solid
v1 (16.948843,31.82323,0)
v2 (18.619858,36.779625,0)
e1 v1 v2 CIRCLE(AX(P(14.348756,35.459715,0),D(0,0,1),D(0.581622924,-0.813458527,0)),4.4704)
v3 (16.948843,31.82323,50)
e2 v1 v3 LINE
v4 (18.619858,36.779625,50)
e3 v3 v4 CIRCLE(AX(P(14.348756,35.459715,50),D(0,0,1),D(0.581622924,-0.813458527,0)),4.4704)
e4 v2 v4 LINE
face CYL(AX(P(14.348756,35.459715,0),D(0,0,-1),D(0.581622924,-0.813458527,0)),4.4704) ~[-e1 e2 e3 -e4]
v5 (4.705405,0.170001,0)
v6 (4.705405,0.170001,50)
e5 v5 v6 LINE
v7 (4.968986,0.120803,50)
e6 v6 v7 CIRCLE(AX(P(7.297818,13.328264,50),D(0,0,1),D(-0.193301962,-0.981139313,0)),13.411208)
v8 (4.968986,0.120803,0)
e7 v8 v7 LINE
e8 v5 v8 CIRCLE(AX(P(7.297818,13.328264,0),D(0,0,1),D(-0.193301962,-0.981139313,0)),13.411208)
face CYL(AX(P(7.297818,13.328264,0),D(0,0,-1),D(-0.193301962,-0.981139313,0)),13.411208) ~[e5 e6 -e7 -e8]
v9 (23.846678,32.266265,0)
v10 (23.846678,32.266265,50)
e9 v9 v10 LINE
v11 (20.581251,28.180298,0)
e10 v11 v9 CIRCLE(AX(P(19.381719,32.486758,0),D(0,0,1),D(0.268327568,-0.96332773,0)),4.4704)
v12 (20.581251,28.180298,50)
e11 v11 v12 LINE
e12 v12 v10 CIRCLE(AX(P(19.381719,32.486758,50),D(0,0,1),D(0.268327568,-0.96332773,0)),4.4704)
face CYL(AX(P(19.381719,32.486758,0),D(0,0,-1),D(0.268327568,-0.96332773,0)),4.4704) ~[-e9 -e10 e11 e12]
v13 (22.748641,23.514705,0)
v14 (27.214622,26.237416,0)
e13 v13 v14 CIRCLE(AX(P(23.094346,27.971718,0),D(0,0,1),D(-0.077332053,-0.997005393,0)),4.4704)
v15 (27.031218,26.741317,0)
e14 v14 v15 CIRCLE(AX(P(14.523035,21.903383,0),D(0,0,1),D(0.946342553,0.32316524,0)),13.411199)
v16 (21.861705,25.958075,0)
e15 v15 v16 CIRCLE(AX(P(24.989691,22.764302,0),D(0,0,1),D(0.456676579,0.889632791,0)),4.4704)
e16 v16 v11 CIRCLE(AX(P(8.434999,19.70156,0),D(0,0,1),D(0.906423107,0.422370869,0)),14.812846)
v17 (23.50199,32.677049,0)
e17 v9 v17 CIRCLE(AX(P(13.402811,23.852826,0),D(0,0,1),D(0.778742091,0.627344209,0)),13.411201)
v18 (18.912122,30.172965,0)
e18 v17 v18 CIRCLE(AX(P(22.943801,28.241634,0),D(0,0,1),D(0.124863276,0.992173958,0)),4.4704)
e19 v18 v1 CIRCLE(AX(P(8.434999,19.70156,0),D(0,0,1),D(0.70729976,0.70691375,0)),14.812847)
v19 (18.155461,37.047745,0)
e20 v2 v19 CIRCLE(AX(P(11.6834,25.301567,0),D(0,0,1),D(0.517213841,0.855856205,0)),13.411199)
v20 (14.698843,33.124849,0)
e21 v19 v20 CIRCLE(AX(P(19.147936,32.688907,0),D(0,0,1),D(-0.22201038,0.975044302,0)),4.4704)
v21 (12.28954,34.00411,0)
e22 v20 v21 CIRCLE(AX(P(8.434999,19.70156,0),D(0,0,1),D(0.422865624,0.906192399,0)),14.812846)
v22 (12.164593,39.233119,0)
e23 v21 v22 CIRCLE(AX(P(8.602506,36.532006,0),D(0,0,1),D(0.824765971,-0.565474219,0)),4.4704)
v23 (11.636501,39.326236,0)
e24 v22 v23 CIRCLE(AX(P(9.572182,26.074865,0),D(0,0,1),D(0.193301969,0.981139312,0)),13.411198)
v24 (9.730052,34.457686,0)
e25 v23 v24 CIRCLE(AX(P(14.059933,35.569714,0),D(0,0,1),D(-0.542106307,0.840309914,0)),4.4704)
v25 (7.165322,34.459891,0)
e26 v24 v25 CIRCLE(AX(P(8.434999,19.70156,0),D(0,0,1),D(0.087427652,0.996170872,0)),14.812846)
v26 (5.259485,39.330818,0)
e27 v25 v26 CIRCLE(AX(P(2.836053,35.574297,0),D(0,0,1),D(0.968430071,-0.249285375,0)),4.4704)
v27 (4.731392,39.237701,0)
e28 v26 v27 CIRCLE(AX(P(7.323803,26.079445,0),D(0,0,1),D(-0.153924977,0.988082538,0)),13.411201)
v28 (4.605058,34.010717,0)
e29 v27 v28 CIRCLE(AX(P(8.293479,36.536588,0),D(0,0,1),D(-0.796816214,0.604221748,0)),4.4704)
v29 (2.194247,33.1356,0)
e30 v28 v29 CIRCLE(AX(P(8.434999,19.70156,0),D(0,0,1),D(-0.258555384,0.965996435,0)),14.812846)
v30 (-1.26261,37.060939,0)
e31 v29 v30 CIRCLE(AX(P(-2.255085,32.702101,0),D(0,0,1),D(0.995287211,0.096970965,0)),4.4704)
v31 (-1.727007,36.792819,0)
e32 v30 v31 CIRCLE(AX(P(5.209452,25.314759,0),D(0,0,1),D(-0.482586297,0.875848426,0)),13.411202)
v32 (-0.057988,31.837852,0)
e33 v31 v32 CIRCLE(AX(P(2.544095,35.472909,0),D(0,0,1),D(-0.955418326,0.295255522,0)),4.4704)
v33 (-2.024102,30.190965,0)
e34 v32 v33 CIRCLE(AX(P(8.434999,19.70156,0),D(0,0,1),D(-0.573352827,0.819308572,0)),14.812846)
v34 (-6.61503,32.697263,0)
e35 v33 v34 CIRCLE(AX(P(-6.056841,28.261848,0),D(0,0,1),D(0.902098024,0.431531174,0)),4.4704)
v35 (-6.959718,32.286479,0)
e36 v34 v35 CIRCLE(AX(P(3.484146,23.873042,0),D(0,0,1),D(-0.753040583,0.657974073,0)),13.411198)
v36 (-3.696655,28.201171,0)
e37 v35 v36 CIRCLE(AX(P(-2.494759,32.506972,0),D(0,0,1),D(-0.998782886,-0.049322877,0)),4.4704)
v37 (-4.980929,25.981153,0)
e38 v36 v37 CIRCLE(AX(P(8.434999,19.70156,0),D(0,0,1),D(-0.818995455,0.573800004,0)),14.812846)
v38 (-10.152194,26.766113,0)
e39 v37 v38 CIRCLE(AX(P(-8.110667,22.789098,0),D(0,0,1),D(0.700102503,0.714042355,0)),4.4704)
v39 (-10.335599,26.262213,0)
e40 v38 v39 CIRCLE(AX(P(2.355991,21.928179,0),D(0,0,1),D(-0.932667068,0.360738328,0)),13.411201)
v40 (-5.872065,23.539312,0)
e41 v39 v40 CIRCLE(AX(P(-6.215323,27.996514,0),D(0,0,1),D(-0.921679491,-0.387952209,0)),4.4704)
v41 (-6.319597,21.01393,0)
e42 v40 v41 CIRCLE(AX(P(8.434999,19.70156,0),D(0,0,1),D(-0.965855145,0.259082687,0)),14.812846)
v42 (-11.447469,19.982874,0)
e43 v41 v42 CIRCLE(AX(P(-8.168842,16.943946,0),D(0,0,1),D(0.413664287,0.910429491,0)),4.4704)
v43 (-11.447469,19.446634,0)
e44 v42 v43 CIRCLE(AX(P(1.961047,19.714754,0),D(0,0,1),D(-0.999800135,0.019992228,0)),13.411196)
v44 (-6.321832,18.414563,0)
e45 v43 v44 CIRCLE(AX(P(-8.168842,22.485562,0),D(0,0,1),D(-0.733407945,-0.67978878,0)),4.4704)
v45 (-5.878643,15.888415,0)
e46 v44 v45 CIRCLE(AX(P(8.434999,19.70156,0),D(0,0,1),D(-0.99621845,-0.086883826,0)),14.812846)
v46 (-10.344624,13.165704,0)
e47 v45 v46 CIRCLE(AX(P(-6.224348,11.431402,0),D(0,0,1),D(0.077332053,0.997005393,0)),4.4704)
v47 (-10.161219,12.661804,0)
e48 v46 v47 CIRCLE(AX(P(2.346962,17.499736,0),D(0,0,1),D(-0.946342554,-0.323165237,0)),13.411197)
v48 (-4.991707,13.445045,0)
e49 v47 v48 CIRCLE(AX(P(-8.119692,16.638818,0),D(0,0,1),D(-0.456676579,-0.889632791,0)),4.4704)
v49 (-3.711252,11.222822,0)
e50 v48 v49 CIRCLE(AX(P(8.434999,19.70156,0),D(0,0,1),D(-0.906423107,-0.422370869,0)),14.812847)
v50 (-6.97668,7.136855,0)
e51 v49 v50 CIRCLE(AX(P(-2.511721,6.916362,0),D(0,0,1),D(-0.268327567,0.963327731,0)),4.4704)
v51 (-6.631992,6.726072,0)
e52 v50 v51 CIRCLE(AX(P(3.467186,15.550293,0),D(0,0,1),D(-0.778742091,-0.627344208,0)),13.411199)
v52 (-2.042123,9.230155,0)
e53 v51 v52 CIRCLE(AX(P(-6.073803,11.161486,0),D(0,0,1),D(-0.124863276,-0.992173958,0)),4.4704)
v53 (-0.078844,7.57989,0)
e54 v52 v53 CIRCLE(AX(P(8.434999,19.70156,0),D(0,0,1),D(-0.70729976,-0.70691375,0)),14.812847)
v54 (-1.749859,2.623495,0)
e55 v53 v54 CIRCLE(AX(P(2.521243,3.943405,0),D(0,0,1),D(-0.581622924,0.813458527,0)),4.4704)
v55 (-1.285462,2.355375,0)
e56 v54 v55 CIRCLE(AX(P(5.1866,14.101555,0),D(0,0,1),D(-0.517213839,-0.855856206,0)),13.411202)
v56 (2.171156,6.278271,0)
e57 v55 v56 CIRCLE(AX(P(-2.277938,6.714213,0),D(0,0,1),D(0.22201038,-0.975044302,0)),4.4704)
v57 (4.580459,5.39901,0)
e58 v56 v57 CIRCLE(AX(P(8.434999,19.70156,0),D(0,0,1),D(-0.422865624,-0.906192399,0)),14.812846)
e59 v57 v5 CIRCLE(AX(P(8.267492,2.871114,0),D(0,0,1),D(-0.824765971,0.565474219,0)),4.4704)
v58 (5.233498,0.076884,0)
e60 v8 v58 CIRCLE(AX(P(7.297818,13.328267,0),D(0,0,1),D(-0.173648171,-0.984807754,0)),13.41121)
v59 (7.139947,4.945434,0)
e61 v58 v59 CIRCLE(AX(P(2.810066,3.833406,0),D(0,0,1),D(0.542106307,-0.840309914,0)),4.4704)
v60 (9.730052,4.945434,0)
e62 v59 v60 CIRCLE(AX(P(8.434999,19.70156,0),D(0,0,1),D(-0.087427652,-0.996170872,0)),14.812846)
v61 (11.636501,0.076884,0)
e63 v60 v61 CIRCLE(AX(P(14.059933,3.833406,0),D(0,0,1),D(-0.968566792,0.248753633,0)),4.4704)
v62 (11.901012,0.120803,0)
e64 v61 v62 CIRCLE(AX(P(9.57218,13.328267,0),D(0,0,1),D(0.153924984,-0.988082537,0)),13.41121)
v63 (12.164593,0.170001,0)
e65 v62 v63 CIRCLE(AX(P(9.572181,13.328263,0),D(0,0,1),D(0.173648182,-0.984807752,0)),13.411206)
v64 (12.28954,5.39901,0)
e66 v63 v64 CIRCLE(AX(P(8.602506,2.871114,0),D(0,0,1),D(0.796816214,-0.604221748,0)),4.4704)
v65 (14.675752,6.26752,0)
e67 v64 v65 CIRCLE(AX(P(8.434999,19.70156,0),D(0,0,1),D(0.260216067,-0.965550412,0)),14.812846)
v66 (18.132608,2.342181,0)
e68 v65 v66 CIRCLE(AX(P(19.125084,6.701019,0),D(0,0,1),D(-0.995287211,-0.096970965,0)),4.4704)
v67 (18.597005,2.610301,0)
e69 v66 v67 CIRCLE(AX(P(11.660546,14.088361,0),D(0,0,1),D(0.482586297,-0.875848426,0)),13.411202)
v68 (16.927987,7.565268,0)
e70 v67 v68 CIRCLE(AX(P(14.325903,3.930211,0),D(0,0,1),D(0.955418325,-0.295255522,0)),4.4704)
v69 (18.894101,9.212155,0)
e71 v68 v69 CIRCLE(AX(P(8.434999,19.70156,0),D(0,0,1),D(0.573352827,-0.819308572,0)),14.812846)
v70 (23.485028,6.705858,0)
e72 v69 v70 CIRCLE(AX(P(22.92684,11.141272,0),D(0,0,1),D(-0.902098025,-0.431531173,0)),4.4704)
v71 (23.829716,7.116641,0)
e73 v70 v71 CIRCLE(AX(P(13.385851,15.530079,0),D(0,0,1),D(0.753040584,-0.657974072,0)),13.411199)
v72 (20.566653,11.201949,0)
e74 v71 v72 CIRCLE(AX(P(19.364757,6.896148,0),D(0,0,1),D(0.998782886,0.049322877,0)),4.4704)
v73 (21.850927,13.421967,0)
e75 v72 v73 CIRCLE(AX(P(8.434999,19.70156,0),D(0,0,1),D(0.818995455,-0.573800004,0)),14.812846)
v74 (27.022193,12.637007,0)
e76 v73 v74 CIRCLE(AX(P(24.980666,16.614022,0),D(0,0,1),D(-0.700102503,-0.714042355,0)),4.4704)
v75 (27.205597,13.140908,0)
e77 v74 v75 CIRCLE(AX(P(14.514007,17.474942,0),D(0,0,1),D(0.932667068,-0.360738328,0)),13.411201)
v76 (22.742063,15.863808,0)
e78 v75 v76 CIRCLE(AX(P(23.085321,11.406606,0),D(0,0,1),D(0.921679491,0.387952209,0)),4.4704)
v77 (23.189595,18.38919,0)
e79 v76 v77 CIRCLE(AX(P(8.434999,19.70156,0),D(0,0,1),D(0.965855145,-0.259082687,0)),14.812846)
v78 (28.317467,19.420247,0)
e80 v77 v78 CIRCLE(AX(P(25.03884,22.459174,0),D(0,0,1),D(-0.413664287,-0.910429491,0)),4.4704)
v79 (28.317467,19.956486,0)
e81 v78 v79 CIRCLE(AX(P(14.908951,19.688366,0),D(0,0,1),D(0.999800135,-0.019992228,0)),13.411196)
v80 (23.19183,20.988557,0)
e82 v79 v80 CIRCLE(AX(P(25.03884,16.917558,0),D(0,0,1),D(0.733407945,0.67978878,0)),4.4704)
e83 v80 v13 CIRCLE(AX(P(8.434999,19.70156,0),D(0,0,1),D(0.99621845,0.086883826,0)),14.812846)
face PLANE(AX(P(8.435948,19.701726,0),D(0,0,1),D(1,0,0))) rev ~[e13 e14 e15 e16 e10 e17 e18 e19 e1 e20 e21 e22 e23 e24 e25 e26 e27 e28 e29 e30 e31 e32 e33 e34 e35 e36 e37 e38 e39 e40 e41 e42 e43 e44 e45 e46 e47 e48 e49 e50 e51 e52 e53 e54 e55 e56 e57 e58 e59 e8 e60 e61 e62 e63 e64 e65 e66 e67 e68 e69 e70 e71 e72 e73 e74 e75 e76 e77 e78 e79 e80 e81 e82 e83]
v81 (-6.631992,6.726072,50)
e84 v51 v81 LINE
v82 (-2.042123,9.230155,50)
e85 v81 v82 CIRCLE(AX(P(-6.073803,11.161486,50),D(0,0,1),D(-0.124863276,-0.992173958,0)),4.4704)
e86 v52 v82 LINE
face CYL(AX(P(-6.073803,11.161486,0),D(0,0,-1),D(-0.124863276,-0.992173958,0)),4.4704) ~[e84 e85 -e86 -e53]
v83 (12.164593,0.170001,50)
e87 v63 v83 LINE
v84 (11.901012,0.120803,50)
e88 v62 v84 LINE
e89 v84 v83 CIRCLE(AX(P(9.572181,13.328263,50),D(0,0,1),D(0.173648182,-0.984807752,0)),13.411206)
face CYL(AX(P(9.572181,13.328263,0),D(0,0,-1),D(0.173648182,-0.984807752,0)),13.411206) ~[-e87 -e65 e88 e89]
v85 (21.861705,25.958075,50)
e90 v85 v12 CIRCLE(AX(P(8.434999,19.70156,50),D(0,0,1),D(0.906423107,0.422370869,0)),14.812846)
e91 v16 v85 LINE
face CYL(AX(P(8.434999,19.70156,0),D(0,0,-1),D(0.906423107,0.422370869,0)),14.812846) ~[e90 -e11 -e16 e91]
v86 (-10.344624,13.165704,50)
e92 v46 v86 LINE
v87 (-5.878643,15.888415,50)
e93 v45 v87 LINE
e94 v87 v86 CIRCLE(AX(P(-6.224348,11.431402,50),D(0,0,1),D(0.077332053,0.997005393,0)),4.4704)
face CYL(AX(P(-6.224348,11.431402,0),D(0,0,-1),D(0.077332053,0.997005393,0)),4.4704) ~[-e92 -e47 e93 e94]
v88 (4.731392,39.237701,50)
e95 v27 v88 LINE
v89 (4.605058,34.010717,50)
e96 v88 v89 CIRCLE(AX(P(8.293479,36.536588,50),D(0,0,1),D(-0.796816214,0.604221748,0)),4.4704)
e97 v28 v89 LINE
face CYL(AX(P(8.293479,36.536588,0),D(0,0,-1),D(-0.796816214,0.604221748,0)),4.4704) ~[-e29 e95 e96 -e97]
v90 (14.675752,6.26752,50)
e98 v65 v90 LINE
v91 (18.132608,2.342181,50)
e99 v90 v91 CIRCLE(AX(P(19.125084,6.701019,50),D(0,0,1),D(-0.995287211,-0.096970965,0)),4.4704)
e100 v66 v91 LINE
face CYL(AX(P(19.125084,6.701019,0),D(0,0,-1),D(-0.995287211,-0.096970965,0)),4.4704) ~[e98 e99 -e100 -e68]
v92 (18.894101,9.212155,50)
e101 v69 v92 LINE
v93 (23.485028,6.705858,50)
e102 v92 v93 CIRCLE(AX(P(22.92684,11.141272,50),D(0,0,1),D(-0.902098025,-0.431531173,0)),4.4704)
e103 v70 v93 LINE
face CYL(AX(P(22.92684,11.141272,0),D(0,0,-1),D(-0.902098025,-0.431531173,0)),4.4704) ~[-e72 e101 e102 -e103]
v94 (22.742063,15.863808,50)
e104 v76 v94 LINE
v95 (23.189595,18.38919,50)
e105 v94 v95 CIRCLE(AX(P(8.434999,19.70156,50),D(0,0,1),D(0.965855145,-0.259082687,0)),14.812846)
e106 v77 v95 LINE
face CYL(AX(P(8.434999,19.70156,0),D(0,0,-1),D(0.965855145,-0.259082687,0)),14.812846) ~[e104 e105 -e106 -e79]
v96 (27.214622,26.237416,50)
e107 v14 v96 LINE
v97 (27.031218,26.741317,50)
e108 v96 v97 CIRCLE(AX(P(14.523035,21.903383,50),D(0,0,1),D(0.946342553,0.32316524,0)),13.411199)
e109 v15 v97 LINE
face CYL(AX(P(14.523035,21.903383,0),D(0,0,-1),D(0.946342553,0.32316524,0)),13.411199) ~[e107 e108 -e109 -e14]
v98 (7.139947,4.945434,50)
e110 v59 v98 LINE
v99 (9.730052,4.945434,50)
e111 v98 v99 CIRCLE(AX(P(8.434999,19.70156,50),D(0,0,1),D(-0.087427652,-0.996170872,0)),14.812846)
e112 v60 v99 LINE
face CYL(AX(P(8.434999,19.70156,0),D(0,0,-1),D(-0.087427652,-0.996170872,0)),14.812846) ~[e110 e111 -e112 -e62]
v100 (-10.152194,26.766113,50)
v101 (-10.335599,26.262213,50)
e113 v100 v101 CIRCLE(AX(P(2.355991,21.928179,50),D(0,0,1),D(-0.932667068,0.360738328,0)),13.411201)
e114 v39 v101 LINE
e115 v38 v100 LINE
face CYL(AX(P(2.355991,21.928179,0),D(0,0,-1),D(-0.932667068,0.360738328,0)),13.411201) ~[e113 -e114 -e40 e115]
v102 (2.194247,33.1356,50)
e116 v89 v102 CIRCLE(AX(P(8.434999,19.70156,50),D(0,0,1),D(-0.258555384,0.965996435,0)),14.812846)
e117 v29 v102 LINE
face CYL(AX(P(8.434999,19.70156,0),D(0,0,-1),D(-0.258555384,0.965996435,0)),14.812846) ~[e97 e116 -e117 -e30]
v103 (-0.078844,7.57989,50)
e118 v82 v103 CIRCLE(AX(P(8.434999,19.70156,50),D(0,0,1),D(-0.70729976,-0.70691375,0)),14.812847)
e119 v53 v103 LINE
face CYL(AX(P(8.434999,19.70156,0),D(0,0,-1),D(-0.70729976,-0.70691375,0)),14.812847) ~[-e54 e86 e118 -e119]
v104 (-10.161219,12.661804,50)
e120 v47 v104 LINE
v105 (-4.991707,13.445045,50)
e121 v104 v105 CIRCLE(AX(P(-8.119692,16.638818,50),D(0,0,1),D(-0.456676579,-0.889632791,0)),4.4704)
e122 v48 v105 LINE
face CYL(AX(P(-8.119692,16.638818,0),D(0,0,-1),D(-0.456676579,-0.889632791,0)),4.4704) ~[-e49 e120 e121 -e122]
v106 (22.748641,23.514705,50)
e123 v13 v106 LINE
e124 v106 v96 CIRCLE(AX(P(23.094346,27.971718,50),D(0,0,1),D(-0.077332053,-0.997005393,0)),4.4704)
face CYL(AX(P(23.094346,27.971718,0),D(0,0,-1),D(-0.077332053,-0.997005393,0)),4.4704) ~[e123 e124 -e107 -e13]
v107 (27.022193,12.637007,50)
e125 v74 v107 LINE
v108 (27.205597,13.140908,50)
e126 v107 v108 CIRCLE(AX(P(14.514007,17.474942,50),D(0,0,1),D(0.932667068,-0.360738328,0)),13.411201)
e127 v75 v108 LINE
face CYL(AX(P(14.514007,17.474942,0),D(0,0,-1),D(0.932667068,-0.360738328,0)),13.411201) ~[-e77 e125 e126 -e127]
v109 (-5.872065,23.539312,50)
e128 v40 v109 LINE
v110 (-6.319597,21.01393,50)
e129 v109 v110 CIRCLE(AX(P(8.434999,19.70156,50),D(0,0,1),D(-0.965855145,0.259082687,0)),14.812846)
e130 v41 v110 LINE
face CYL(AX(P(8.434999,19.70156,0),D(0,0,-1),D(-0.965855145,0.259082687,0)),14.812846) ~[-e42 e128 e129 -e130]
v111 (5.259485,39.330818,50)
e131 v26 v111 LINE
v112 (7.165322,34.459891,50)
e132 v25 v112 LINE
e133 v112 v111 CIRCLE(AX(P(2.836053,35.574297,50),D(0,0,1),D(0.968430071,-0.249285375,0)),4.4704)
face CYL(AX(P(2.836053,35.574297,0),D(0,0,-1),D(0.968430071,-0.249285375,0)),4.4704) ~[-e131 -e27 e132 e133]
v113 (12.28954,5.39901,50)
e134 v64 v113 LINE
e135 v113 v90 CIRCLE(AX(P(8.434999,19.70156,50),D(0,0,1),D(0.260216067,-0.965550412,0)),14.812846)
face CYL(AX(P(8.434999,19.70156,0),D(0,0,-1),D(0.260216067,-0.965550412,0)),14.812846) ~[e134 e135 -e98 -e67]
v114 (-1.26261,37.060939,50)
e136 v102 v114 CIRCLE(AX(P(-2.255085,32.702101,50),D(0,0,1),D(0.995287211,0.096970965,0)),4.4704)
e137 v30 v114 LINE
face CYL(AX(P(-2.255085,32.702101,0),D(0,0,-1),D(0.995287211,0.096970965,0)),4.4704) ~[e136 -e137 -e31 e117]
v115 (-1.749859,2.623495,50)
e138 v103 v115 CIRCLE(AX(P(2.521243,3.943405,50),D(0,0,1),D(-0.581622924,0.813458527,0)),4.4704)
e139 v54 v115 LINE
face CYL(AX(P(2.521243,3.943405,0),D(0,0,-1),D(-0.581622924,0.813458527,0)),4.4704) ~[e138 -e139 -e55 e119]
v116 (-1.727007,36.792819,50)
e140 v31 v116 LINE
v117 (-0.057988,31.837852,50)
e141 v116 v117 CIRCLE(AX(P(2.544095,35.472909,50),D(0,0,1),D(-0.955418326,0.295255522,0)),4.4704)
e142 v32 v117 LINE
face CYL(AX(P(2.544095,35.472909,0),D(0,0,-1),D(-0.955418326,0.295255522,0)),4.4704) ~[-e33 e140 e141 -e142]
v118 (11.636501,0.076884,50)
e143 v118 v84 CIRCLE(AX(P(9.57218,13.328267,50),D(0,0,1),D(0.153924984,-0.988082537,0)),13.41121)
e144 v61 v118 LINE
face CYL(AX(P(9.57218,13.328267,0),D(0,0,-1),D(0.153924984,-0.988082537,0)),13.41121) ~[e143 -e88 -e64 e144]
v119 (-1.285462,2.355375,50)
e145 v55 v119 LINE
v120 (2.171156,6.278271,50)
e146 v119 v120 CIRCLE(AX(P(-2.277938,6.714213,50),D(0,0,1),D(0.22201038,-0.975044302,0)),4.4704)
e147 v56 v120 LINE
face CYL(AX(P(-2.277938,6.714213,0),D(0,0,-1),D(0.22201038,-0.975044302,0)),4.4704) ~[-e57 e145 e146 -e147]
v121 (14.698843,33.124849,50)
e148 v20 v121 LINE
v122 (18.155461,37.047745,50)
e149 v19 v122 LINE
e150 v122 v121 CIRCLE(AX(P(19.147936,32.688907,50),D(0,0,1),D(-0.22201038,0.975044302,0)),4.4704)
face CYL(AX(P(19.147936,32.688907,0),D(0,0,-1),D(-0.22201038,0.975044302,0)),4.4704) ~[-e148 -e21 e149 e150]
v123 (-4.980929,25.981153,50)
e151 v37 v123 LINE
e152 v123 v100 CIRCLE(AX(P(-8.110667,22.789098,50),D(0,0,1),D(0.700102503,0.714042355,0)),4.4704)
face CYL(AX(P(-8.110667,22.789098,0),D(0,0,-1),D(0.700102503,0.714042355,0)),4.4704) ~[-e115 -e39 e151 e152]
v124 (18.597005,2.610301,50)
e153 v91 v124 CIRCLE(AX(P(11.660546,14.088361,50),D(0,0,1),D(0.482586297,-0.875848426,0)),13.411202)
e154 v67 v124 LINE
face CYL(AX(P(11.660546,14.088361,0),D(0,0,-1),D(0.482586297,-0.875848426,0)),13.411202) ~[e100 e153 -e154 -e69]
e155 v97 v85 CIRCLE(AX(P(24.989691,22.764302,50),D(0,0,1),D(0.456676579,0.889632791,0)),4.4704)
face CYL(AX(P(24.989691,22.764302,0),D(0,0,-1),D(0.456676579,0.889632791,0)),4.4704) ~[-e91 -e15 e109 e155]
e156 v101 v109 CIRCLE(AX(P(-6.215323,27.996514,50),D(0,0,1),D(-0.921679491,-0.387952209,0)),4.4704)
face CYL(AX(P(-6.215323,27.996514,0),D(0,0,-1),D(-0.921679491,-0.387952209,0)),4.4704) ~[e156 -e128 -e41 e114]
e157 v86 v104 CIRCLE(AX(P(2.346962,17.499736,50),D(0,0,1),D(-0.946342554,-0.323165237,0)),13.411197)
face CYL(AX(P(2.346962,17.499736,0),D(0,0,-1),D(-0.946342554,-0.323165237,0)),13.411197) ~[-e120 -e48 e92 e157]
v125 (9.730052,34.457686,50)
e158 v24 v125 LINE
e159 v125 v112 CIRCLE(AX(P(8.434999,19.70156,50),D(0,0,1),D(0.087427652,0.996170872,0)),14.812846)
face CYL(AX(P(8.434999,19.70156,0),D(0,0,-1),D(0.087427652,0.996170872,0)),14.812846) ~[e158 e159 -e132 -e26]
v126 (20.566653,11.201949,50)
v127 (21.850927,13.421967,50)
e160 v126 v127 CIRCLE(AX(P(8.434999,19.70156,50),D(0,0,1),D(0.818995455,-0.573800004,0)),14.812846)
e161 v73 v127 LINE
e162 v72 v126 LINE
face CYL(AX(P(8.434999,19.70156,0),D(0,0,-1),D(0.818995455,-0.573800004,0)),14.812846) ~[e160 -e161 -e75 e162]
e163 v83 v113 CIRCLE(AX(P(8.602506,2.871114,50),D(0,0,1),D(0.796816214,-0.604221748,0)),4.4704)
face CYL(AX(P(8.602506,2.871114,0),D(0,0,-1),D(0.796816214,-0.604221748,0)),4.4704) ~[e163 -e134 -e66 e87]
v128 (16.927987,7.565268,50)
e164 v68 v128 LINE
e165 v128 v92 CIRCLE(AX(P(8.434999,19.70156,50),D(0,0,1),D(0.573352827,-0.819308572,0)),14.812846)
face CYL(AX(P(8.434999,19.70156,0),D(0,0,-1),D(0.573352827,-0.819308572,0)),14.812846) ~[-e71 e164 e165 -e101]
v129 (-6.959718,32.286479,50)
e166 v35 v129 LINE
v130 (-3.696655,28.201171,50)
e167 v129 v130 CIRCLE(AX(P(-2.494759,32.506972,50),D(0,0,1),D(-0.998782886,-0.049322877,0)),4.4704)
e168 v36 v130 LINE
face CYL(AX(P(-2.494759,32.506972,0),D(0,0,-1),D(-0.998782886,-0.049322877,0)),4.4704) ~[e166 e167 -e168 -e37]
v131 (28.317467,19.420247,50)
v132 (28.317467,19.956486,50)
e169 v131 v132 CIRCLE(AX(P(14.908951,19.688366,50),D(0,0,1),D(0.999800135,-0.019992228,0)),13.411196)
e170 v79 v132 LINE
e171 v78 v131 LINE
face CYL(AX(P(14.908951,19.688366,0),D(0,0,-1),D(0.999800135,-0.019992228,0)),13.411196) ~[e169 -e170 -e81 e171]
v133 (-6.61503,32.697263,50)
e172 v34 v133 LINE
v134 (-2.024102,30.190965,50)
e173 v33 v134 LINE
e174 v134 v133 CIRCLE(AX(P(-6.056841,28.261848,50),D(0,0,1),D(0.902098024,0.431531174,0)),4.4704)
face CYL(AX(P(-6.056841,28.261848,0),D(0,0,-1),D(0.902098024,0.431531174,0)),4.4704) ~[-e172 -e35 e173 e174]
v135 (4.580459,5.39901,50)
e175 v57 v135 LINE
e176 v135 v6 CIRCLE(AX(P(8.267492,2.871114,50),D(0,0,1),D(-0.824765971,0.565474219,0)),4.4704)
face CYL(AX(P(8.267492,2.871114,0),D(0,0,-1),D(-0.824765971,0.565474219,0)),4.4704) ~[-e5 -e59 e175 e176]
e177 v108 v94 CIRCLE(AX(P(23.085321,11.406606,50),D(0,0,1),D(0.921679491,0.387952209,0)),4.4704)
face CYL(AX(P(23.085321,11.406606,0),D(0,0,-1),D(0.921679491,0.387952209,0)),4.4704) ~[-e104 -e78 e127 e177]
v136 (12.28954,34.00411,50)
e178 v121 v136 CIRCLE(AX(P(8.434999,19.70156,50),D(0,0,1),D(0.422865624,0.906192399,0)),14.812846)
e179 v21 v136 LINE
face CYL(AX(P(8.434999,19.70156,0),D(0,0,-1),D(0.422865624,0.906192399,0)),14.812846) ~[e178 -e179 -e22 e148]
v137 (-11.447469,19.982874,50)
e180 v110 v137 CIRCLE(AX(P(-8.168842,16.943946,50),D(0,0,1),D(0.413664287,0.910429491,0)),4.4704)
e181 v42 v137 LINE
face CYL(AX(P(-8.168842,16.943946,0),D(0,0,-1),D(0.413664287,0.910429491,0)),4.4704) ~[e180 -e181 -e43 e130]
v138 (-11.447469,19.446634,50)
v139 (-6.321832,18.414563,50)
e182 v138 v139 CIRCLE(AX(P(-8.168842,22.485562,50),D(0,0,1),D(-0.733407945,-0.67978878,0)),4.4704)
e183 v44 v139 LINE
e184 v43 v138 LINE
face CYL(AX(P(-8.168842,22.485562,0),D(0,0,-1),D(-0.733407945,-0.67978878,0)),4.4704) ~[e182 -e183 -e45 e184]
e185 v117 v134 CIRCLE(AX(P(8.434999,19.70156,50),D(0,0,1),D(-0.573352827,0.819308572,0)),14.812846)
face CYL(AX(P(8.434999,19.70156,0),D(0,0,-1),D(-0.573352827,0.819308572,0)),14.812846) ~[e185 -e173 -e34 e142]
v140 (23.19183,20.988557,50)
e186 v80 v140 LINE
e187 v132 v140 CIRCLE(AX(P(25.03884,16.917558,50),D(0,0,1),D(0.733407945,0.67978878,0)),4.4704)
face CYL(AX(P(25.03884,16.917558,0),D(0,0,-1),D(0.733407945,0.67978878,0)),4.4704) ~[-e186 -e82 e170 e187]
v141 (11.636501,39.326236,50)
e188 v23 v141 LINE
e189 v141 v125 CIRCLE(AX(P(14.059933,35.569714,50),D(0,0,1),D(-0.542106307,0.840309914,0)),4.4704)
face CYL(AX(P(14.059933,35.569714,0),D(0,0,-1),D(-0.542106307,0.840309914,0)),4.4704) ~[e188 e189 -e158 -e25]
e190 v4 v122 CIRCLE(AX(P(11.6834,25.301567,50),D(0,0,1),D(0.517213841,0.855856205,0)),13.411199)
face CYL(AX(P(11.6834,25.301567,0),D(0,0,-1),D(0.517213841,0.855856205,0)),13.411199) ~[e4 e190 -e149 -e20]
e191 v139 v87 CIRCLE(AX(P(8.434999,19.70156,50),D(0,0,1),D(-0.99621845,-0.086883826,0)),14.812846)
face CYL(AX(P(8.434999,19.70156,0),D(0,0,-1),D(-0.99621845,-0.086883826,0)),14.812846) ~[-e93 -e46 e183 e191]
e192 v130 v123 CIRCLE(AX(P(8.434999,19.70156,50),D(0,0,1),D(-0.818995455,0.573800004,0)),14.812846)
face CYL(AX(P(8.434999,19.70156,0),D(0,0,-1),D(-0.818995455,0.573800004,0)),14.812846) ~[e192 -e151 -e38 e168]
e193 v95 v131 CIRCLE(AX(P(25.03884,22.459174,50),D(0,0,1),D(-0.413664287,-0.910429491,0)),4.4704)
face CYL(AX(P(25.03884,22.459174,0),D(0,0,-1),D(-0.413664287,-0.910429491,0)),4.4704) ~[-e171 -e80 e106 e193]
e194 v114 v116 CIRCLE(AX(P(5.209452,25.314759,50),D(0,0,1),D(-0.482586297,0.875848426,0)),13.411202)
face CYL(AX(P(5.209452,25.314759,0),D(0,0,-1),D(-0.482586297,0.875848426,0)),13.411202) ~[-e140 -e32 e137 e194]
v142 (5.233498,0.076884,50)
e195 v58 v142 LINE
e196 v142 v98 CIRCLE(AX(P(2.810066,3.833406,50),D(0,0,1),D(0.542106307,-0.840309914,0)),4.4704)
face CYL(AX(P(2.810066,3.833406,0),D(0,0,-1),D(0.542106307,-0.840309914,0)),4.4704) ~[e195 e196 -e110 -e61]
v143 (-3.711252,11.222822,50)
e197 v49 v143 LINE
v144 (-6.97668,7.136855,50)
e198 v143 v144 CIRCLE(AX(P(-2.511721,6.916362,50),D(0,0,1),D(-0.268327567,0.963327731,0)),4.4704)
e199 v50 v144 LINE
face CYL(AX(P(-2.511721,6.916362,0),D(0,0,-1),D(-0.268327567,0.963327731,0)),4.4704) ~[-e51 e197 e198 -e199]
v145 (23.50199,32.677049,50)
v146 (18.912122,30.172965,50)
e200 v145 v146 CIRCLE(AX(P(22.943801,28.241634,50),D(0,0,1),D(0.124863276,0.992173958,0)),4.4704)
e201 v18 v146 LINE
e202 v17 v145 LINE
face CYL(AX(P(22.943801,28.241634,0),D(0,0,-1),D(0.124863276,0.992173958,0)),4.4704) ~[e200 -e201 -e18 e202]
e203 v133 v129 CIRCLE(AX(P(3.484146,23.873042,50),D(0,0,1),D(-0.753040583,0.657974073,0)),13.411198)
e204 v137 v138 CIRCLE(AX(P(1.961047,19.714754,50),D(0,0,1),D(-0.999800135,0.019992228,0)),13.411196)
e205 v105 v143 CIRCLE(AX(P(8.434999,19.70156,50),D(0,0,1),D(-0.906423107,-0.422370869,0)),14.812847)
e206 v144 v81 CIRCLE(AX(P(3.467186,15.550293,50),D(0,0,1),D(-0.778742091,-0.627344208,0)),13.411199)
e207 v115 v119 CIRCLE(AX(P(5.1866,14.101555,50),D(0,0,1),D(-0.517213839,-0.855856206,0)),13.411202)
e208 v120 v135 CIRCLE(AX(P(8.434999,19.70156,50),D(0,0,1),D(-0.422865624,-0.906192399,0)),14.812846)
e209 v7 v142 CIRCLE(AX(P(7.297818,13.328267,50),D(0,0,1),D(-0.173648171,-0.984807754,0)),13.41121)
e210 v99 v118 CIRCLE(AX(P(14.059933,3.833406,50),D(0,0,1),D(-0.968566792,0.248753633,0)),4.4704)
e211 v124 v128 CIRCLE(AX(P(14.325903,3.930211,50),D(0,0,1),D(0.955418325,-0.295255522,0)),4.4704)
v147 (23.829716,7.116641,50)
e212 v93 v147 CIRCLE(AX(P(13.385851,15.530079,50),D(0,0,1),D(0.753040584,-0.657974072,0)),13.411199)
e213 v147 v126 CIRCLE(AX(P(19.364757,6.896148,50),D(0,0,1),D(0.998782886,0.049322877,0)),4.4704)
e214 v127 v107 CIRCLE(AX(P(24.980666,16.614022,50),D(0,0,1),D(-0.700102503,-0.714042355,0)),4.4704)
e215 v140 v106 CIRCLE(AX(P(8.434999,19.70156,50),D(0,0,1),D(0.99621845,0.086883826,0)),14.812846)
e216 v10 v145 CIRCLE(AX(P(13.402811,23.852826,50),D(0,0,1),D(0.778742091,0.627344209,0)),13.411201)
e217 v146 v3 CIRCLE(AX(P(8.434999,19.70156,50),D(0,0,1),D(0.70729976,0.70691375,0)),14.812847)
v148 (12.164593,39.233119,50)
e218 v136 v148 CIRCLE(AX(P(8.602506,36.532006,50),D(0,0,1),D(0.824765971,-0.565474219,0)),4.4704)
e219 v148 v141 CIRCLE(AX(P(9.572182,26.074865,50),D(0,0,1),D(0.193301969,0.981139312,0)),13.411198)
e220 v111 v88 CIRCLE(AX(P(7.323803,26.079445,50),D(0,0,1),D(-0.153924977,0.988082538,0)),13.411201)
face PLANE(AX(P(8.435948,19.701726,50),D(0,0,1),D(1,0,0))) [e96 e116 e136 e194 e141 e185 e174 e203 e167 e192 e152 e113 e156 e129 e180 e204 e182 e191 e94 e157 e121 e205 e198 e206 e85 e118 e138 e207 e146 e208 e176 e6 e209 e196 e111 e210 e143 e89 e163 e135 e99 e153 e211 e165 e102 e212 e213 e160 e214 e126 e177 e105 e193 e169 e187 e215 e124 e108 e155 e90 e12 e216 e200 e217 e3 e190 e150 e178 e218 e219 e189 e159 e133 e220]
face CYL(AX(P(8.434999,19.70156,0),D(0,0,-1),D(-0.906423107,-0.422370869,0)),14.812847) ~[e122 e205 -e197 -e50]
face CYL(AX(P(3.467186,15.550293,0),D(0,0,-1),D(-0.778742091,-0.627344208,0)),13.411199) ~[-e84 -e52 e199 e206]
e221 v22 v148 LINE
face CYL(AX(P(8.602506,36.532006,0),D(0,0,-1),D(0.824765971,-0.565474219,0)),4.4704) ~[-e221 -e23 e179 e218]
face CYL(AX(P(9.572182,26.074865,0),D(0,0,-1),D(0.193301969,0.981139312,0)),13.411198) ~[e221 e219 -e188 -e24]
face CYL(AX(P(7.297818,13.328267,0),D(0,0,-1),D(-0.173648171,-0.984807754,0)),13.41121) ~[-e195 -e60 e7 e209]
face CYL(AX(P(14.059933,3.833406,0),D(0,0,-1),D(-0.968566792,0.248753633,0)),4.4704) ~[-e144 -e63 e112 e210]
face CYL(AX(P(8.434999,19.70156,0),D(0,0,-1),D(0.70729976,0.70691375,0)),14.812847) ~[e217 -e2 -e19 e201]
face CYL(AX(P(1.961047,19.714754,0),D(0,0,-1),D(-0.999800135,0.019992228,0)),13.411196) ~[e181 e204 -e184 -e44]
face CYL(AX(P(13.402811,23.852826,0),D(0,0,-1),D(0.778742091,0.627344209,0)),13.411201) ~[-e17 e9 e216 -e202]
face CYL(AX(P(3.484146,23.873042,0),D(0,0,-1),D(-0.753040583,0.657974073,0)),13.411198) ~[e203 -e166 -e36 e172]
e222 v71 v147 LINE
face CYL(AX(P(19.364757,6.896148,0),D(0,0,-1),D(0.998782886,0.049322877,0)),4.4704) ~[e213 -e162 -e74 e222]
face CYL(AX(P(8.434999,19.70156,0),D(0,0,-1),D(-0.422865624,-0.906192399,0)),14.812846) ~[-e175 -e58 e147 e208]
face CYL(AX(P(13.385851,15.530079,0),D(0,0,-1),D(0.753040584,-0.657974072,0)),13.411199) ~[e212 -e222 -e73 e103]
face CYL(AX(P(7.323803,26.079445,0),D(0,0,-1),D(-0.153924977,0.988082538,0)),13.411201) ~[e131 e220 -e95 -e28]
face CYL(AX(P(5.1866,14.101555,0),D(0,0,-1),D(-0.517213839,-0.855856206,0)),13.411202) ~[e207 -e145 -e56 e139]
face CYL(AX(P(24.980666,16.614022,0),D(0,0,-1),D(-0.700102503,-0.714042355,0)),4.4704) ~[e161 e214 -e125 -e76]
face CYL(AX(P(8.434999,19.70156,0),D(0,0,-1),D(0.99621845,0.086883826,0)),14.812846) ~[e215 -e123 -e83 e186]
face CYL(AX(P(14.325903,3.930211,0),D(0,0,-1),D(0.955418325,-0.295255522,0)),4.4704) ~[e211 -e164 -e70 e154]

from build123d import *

# Parameters (mm, degrees)
BOSS_EXTRUDE1_DEPTH = 50


with BuildPart() as part:
    # Sketch4 → Boss-Extrude1 (new body)
    with BuildSketch(Plane.XY):
        with BuildLine():
            ThreePointArc((4.968986099, 0.120803098), (5.101132242, 0.098182628), (5.233497909, 0.076884301))
            ThreePointArc((5.233497909, 0.076884301), (6.972697635, 2.203383358), (7.139946857, 4.945433981))
            ThreePointArc((7.139946857, 4.945433981), (8.434999235, 4.888713692), (9.730051613, 4.945433981))
            ThreePointArc((9.730051613, 4.945433981), (9.897300835, 2.203383358), (11.636500561, 0.076884301))
            ThreePointArc((11.636500561, 0.076884301), (11.768866228, 0.098182628), (11.901012371, 0.120803098))
            ThreePointArc((11.901012371, 0.120803098), (12.032925783, 0.144743452), (12.16459328, 0.170001296))
            ThreePointArc((12.16459328, 0.170001296), (13.0716304, 2.764324962), (12.289539875, 5.399010148))
            ThreePointArc((12.289539875, 5.399010148), (13.501291083, 5.782037637), (14.675751687, 6.26752022))
            ThreePointArc((14.675751687, 6.26752022), (15.77017858, 3.746516175), (18.132608433, 2.342181169))
            ThreePointArc((18.132608433, 2.342181169), (18.366147116, 2.473919706), (18.597005377, 2.61030087))
            ThreePointArc((18.597005377, 2.61030087), (18.562422416, 5.35722969), (16.927986588, 7.56526806))
            ThreePointArc((16.927986588, 7.56526806), (17.946753802, 8.346079322), (18.894100505, 9.212155005))
            ThreePointArc((18.894100505, 9.212155005), (20.784759544, 7.217502149), (23.485028304, 6.705857505))
            ThreePointArc((23.485028304, 6.705857505), (23.659425648, 6.909526169), (23.829716347, 7.116640718))
            ThreePointArc((23.829716347, 7.116640718), (22.857714006, 9.686081391), (20.566653119, 11.201948778))
            ThreePointArc((20.566653119, 11.201948778), (21.256927973, 12.284110268), (21.850927349, 13.421966851))
            ThreePointArc((21.850927349, 13.421966851), (24.309777153, 12.194249757), (27.022192556, 12.637007368))
            ThreePointArc((27.022192556, 12.637007368), (27.116413667, 12.888040714), (27.205597232, 13.140907576))
            ThreePointArc((27.205597232, 13.140907576), (25.413413337, 15.222947636), (22.742063147, 15.863808061))
            ThreePointArc((22.742063147, 15.863808061), (23.020588306, 17.116795131), (23.189595265, 18.389190318))
            ThreePointArc((23.189595265, 18.389190318), (25.920062258, 18.076489787), (28.317466974, 19.420246552))
            ThreePointArc((28.317466974, 19.420246552), (28.320147397, 19.688366252), (28.317466974, 19.956485953))
            ThreePointArc((28.317466974, 19.956485953), (25.921265354, 21.30000064), (23.191830118, 20.988556878))
            ThreePointArc((23.191830118, 20.988556878), (23.025011337, 22.261240797), (22.748641145, 23.514704949))
            ThreePointArc((22.748641145, 23.514704949), (25.42139071, 24.154737279), (27.21462235, 26.2374163))
            ThreePointArc((27.21462235, 26.2374163), (27.125438785, 26.490283162), (27.031217673, 26.741316508))
            ThreePointArc((27.031217673, 26.741316508), (24.320015606, 27.184258124), (21.861705497, 25.958074888))
            ThreePointArc((21.861705497, 25.958074888), (21.269663582, 27.096951192), (20.581250564, 28.180298033))
            ThreePointArc((20.581250564, 28.180298033), (22.873909658, 29.695865881), (23.84667802, 32.26626533))
            ThreePointArc((23.84667802, 32.26626533), (23.676387321, 32.473379879), (23.501989977, 32.677048544))
            ThreePointArc((23.501989977, 32.677048544), (20.802798446, 32.165991792), (18.912121943, 30.172964878))
            ThreePointArc((18.912121943, 30.172964878), (17.966265888, 31.040668276), (16.948842813, 31.82323019))
            ThreePointArc((16.948842813, 31.82323019), (18.584882913, 34.031533704), (18.619857777, 36.779625474))
            ThreePointArc((18.619857777, 36.779625474), (18.388999516, 36.916006638), (18.155460833, 37.047745174))
            ThreePointArc((18.155460833, 37.047745174), (15.793842173, 35.644331042), (14.698842765, 33.124848909))
            ThreePointArc((14.698842765, 33.124848909), (13.51325677, 33.616721566), (12.289539875, 34.004110035))
            ThreePointArc((12.289539875, 34.004110035), (13.0716304, 36.638795221), (12.16459328, 39.233118887))
            ThreePointArc((12.16459328, 39.233118887), (11.901012371, 39.282317085), (11.636500561, 39.326235881))
            ThreePointArc((11.636500561, 39.326235881), (9.897300835, 37.199736825), (9.730051613, 34.457686202))
            ThreePointArc((9.730051613, 34.457686202), (8.447734845, 34.514401016), (7.16532245, 34.459891274))
            ThreePointArc((7.16532245, 34.459891274), (6.99913174, 37.203176215), (5.259484699, 39.330818054))
            ThreePointArc((5.259484699, 39.330818054), (4.994972889, 39.286899257), (4.73139198, 39.237701059))
            ThreePointArc((4.73139198, 39.237701059), (3.824384344, 36.644604248), (4.605058031, 34.010716908))
            ThreePointArc((4.605058031, 34.010716908), (3.380676818, 33.625433236), (2.194246783, 33.135599963))
            ThreePointArc((2.194246783, 33.135599963), (1.09981989, 35.656604008), (-1.262609963, 37.060939014))
            ThreePointArc((-1.262609963, 37.060939014), (-1.496148646, 36.929200477), (-1.727006907, 36.792819313))
            ThreePointArc((-1.727006907, 36.792819313), (-1.692423946, 34.045890493), (-0.057988118, 31.837852122))
            ThreePointArc((-0.057988118, 31.837852122), (-1.076755332, 31.05704086), (-2.024102035, 30.190965178))
            ThreePointArc((-2.024102035, 30.190965178), (-3.914761075, 32.185618033), (-6.615029835, 32.697262678))
            ThreePointArc((-6.615029835, 32.697262678), (-6.789427179, 32.493594014), (-6.959717877, 32.286479465))
            ThreePointArc((-6.959717877, 32.286479465), (-5.987715536, 29.717038792), (-3.696654649, 28.201171405))
            ThreePointArc((-3.696654649, 28.201171405), (-4.386929503, 27.119009915), (-4.980928879, 25.981153332))
            ThreePointArc((-4.980928879, 25.981153332), (-7.439778683, 27.208870426), (-10.152194086, 26.766112815))
            ThreePointArc((-10.152194086, 26.766112815), (-10.246415197, 26.515079469), (-10.335598762, 26.262212607))
            ThreePointArc((-10.335598762, 26.262212607), (-8.543414868, 24.180172547), (-5.872064677, 23.539312122))
            ThreePointArc((-5.872064677, 23.539312122), (-6.150589836, 22.286325051), (-6.319596795, 21.013929865))
            ThreePointArc((-6.319596795, 21.013929865), (-9.050063788, 21.326630396), (-11.447468504, 19.982873631))
            ThreePointArc((-11.447468504, 19.982873631), (-11.450148927, 19.714753931), (-11.447468504, 19.44663423))
            ThreePointArc((-11.447468504, 19.44663423), (-9.051266884, 18.103119543), (-6.321831648, 18.414563305))
            ThreePointArc((-6.321831648, 18.414563305), (-6.155012867, 17.141879386), (-5.878642675, 15.888415234))
            ThreePointArc((-5.878642675, 15.888415234), (-8.55139224, 15.248382904), (-10.34462388, 13.165703883))
            ThreePointArc((-10.34462388, 13.165703883), (-10.255440315, 12.91283702), (-10.161219203, 12.661803675))
            ThreePointArc((-10.161219203, 12.661803675), (-7.450017136, 12.218862059), (-4.991707027, 13.445045295))
            ThreePointArc((-4.991707027, 13.445045295), (-4.399665112, 12.306168991), (-3.711252094, 11.222822149))
            ThreePointArc((-3.711252094, 11.222822149), (-6.003911188, 9.707254302), (-6.97667955, 7.136854852))
            ThreePointArc((-6.97667955, 7.136854852), (-6.806388851, 6.929740303), (-6.631991507, 6.726071639))
            ThreePointArc((-6.631991507, 6.726071639), (-3.932799977, 7.23712839), (-2.042123473, 9.230155305))
            ThreePointArc((-2.042123473, 9.230155305), (-1.096267418, 8.362451907), (-0.078844343, 7.579889993))
            ThreePointArc((-0.078844343, 7.579889993), (-1.714884443, 5.371586479), (-1.749859307, 2.623494709))
            ThreePointArc((-1.749859307, 2.623494709), (-1.519001046, 2.487113545), (-1.285462363, 2.355375008))
            ThreePointArc((-1.285462363, 2.355375008), (1.076156297, 3.758789141), (2.171155705, 6.278271274))
            ThreePointArc((2.171155705, 6.278271274), (3.3567417, 5.786398617), (4.580458595, 5.399010148))
            ThreePointArc((4.580458595, 5.399010148), (3.79836807, 2.764324962), (4.705405189, 0.170001296))
            ThreePointArc((4.705405189, 0.170001296), (4.837072687, 0.144743452), (4.968986099, 0.120803098))
        make_face()
    extrude(amount=BOSS_EXTRUDE1_DEPTH)


solid = part.part
